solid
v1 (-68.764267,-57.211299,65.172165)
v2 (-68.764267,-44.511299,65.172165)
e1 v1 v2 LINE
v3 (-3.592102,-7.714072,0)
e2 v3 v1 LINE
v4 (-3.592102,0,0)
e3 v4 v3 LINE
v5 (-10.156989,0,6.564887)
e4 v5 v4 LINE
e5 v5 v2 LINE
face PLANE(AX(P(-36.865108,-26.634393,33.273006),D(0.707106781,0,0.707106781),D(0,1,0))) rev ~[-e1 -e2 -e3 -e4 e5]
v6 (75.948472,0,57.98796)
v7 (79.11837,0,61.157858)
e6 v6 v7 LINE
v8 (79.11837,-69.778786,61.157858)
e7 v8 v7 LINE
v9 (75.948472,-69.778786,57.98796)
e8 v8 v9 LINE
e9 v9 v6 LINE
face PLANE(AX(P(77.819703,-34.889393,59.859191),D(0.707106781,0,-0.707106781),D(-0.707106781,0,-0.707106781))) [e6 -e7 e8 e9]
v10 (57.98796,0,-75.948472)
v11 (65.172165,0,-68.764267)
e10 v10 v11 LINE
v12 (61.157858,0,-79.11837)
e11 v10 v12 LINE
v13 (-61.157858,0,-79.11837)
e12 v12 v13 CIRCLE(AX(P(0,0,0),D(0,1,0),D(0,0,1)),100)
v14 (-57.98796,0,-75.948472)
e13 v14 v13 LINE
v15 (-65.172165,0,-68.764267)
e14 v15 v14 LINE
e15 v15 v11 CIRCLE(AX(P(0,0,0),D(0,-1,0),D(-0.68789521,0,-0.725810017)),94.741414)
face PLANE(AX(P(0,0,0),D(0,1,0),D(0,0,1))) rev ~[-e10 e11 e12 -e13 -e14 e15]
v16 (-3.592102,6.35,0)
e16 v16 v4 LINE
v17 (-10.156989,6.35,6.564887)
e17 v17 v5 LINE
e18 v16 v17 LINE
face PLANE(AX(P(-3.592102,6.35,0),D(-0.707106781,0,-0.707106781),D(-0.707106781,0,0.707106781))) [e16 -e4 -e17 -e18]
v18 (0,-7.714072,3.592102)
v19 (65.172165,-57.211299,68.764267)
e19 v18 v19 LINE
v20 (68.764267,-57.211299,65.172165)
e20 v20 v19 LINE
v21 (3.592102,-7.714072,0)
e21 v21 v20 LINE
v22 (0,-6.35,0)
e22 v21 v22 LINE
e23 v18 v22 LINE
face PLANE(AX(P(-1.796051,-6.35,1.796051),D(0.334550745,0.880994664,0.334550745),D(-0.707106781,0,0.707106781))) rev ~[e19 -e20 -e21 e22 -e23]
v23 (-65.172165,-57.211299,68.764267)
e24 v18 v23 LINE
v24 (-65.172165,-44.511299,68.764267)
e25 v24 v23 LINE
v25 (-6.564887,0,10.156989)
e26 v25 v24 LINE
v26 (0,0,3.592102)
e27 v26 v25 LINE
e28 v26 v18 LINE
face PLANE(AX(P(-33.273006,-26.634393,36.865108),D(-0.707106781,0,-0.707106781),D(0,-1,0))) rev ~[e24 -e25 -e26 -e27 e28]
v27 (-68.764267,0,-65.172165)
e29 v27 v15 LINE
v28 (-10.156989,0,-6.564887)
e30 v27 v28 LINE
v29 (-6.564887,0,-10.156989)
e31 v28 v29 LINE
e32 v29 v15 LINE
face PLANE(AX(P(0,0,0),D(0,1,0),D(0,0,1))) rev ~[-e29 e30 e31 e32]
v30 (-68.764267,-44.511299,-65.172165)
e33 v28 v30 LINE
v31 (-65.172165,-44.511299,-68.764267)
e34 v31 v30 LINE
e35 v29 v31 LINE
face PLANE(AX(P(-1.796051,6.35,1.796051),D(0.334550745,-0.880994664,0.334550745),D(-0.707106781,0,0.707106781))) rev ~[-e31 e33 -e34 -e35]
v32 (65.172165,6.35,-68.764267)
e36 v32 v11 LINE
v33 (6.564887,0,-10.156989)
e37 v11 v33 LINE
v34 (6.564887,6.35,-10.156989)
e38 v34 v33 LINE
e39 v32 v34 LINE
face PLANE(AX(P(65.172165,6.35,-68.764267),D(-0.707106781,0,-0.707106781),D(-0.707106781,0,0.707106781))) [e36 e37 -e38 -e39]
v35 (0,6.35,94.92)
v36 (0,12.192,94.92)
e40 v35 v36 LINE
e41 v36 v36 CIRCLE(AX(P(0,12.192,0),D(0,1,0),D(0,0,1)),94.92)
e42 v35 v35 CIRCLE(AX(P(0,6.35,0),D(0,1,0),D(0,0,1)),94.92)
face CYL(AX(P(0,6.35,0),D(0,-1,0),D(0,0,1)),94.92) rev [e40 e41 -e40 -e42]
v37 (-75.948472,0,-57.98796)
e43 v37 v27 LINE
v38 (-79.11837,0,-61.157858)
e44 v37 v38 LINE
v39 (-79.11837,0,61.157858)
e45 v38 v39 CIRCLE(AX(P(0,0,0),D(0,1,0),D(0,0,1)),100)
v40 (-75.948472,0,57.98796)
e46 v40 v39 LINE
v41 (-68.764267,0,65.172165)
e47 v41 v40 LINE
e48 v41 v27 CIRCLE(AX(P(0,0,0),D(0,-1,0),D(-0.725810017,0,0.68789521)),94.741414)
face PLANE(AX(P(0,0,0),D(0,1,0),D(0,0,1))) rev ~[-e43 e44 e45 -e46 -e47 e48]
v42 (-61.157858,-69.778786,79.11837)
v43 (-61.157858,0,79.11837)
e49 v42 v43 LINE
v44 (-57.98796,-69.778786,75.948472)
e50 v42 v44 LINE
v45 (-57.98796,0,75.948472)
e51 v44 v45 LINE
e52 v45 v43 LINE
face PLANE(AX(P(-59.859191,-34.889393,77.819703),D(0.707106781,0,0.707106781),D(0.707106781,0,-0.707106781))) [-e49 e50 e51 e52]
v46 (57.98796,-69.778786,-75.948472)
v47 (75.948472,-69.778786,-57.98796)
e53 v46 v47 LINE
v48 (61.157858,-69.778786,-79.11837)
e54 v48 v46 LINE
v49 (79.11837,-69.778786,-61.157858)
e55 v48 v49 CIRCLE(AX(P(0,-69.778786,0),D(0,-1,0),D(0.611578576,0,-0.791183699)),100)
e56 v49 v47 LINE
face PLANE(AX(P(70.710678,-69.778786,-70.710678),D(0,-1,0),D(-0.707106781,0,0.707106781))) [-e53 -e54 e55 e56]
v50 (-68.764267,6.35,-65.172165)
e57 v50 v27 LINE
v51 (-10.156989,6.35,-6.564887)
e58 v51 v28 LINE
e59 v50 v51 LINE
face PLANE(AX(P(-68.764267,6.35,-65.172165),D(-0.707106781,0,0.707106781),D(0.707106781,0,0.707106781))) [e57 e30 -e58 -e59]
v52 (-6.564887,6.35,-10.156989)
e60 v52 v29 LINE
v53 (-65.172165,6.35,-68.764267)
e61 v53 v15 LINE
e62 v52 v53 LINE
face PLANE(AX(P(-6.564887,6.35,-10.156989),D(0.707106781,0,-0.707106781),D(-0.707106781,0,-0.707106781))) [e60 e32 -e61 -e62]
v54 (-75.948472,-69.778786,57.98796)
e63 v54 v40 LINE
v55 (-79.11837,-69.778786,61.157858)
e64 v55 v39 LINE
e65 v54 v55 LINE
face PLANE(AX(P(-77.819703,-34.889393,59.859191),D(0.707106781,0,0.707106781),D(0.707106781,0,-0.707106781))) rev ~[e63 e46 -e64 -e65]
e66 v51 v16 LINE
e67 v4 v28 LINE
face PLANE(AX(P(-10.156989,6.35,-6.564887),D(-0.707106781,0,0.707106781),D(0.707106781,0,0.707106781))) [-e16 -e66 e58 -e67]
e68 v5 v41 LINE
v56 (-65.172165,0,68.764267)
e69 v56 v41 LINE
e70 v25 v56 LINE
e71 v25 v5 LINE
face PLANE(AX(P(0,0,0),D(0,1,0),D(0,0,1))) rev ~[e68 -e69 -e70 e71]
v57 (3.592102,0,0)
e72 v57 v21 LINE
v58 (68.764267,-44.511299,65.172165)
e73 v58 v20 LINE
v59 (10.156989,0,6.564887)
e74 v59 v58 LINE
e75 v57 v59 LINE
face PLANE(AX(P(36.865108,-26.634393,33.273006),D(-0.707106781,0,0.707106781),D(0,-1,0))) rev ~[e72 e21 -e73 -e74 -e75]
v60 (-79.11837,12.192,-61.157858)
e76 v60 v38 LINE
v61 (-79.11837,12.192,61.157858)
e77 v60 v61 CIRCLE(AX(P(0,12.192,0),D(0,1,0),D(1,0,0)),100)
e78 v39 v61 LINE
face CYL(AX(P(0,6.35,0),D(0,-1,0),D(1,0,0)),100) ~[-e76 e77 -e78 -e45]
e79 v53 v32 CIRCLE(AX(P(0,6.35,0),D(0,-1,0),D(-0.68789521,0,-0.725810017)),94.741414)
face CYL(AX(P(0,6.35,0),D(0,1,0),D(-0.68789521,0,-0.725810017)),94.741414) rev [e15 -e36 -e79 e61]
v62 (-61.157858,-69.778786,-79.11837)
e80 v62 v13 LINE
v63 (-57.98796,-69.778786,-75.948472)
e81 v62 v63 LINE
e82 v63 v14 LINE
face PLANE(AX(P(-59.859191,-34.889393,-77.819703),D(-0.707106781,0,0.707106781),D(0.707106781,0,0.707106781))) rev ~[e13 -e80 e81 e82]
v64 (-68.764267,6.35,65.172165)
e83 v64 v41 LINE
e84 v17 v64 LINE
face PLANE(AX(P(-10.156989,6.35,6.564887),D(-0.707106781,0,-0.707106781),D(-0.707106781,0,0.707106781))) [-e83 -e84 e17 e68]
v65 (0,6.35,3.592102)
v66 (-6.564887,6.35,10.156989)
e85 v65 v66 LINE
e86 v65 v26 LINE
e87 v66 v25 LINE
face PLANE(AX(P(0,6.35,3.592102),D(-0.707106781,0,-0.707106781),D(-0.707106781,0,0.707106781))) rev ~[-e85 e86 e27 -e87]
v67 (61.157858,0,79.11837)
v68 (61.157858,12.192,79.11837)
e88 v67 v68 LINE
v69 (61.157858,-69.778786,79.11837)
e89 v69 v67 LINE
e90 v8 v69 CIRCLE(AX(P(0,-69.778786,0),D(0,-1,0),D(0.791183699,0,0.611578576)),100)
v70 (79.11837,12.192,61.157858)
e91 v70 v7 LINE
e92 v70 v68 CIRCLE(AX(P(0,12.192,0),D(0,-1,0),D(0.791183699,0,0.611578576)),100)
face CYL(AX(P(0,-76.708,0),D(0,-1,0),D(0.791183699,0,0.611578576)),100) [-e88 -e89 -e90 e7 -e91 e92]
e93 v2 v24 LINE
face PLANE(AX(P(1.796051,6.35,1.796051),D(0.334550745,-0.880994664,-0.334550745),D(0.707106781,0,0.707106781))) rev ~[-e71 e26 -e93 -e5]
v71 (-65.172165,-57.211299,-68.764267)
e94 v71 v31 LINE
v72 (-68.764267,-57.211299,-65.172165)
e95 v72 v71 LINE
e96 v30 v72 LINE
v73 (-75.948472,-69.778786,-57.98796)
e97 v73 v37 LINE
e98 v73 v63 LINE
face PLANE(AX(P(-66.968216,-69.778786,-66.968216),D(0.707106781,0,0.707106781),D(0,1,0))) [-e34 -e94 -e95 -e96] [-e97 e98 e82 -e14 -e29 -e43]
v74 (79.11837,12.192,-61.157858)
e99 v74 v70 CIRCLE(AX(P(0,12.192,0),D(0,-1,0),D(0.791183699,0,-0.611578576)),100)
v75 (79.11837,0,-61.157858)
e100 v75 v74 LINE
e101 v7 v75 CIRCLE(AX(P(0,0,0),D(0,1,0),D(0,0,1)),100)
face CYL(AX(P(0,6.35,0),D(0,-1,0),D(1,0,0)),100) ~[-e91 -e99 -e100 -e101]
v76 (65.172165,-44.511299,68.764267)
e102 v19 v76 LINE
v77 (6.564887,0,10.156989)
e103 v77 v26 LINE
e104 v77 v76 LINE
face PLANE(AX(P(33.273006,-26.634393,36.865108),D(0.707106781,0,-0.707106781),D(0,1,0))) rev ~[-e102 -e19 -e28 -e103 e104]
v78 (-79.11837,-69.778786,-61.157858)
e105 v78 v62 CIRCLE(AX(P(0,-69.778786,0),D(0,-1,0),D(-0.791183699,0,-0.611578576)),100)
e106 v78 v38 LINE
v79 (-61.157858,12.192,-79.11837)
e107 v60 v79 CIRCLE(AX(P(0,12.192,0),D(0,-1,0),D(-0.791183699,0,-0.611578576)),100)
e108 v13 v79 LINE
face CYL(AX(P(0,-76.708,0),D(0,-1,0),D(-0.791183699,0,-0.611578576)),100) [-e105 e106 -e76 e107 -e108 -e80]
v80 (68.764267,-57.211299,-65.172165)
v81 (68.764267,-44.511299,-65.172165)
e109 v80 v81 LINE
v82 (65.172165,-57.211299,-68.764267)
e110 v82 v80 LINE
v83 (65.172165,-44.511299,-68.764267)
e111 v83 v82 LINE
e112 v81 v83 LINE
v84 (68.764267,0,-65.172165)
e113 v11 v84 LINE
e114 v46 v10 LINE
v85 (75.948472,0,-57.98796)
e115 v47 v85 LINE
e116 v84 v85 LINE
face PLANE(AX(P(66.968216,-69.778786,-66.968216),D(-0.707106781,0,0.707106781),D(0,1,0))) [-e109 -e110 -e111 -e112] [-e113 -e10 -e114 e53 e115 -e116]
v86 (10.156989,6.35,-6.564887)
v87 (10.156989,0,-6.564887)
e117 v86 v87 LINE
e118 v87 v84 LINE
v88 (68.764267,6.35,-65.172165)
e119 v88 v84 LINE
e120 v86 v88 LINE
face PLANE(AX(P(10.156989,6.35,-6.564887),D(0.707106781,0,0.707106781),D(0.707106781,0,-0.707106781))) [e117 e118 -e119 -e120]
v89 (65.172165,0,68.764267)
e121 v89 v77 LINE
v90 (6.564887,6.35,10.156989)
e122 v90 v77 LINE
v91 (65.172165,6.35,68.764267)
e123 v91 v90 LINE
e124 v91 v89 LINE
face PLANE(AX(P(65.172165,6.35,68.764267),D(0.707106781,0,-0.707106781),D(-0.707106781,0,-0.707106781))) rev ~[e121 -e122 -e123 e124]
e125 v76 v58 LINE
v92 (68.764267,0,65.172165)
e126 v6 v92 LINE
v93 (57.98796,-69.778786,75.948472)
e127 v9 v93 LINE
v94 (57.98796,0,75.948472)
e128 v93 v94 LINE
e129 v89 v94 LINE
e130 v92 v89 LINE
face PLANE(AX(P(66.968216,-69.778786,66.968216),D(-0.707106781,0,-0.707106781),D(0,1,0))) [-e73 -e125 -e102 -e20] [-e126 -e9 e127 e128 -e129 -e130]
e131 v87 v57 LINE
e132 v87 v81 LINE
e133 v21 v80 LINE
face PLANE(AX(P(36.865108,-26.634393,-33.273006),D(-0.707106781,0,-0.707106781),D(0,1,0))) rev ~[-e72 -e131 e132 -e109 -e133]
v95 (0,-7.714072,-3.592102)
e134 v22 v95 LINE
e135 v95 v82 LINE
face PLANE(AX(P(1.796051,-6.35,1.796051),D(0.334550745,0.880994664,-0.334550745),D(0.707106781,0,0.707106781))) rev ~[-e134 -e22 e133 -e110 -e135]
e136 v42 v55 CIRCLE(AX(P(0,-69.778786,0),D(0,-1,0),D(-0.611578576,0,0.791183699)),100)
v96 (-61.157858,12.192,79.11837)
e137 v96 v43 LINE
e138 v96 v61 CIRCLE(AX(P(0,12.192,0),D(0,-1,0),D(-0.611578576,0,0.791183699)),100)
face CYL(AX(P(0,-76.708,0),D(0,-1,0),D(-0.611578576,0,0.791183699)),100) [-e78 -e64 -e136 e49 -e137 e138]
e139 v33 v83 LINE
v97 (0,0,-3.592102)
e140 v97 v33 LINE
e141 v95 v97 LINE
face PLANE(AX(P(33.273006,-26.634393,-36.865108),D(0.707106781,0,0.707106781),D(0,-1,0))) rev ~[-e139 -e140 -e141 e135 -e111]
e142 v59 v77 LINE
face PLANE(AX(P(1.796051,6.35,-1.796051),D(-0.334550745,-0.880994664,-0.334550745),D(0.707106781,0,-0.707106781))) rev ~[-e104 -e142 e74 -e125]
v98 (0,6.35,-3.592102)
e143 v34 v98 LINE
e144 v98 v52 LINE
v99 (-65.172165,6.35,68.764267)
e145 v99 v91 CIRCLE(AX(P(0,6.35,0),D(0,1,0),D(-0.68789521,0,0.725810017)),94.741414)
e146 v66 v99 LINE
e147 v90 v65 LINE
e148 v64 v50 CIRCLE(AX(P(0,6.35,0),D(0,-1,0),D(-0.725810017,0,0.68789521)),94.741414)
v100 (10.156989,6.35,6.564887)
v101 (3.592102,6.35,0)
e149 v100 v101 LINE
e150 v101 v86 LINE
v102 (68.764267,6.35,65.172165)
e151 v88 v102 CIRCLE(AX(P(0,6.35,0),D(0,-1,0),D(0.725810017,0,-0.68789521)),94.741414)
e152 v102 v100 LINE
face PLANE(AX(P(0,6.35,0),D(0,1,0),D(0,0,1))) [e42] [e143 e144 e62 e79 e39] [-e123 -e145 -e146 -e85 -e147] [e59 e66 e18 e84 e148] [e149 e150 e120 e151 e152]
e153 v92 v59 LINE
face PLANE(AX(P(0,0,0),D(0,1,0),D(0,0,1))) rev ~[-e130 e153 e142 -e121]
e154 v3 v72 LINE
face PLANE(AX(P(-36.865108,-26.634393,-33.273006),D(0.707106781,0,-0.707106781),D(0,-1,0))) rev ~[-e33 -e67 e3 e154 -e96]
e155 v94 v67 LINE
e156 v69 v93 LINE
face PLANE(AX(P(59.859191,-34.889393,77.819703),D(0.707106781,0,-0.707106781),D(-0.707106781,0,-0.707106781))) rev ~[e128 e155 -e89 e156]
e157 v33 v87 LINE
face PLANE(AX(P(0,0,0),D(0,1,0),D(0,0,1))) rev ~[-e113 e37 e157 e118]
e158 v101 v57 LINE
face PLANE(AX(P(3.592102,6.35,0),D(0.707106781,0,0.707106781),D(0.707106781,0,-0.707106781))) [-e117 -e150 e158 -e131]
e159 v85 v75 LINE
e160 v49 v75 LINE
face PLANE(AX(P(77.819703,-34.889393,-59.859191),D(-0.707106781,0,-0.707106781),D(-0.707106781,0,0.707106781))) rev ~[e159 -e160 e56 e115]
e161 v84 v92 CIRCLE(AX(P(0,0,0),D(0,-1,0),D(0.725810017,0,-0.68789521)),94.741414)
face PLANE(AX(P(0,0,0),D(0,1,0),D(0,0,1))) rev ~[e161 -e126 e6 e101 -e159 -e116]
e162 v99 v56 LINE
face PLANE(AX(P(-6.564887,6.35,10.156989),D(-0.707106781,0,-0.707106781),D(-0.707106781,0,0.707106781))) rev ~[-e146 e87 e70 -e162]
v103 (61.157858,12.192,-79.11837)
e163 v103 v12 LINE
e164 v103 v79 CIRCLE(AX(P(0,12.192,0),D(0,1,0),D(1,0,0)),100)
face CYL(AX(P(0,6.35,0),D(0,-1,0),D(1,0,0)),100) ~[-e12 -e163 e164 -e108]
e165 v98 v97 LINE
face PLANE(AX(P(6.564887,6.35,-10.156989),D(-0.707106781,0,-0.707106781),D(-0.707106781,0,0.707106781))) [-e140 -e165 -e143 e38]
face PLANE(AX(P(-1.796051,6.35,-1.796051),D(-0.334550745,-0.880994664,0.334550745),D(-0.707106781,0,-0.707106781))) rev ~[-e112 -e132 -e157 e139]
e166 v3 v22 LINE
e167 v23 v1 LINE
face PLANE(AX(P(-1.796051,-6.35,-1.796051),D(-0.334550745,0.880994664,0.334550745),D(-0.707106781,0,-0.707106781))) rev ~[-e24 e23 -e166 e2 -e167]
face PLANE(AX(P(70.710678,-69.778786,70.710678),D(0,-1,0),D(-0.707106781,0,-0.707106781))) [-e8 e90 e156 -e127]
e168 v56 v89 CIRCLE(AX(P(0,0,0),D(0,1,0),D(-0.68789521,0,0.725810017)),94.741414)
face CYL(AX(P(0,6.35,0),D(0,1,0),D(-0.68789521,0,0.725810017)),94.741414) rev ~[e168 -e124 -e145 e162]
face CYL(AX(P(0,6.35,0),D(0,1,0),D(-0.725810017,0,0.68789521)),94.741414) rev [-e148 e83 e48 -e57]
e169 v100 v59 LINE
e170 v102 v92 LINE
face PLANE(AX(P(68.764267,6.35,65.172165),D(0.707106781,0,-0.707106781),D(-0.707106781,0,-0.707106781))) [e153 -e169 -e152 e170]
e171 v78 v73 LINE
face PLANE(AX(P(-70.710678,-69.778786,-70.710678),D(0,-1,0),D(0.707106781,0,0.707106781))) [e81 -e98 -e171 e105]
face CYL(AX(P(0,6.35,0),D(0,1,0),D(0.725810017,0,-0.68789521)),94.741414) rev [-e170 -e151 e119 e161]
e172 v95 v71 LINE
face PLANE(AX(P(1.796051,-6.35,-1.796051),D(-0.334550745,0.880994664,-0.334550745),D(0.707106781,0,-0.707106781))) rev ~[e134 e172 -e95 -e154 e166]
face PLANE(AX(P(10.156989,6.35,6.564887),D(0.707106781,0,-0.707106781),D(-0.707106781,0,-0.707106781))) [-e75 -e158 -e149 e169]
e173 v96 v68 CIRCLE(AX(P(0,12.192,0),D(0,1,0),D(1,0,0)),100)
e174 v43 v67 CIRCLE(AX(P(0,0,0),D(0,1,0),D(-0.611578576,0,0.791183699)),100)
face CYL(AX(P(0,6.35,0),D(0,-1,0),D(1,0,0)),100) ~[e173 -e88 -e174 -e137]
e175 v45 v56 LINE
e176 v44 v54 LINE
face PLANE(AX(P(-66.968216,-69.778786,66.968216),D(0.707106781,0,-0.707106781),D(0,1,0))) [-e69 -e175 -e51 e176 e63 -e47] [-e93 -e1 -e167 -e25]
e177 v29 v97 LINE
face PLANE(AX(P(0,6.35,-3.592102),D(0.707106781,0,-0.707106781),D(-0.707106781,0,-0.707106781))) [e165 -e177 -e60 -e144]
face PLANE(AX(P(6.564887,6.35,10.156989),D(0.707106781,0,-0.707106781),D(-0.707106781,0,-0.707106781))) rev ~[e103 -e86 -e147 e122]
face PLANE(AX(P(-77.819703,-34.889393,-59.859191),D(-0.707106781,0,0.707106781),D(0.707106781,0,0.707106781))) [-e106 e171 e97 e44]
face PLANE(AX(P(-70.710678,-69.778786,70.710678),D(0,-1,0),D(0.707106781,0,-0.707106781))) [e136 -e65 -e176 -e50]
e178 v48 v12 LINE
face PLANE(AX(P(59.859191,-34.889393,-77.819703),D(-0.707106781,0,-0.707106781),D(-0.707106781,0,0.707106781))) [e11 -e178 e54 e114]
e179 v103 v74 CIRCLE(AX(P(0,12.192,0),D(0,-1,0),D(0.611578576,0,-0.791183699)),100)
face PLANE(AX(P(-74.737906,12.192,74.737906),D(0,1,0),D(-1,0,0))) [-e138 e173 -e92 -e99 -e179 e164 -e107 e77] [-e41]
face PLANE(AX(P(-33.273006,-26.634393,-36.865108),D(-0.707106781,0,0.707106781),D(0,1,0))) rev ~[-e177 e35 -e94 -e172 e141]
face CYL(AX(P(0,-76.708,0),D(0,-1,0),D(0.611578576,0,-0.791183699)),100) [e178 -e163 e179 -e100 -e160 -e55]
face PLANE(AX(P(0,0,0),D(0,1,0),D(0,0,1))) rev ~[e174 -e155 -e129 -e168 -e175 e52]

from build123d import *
from build123d.topology import SkipClean

# Parameters (mm, degrees)
SKETCH1_R                = 100
BOSS_EXTRUDE1_DEPTH      = 6.35
BOSS_EXTRUDE2_DEPTH      = 14.986
BOSS_EXTRUDE2_DEPTH_BACK = 76.128786138
SKETCH3_R                = 100
SKETCH3_R_2              = 94.92
BOSS_EXTRUDE3_DEPTH      = 5.842
CIRPATTERN1_COUNT        = 4
SKETCH29_W               = 5.08
SKETCH29_H               = 12.7
BOSS_EXTRUDE4_DEPTH      = 6.35
CIRPATTERN2_COUNT        = 4
CUT_EXTRUDE3_DEPTH       = 6.35
CUT_EXTRUDE4_START       = -9.144
CUT_EXTRUDE4_DEPTH       = 9.144
CIRPATTERN3_COUNT        = 4
BOSS_EXTRUDE6_DEPTH      = 12.7
CIRPATTERN4_COUNT        = 4
SKETCH34_W               = 25.4
SKETCH34_H               = 132.842
CUT_EXTRUDE5_DEPTH       = 7.62
CIRPATTERN5_COUNT        = 4
CUT_EXTRUDE6_START       = -88.9
CUT_EXTRUDE6_DEPTH       = 88.9


with BuildPart() as part:
    # Sketch1 → Boss-Extrude1 (new body)
    with BuildSketch(Plane(origin=(0, 0, 0), x_dir=(1, 0, 0), z_dir=(0, 1, 0))):
        with Locations(Location((0, 0, 0), (0, 0, 270))):
            Circle(SKETCH1_R)
    extrude(amount=BOSS_EXTRUDE1_DEPTH)

    # Sketch2 → Boss-Extrude2 (add, two sides: drawn at the far end of the back side and taken through both)
    with BuildSketch(Plane(origin=(0, 6.35, 0), x_dir=(1, 0, 0), z_dir=(0, 1, 0)).offset(-BOSS_EXTRUDE2_DEPTH_BACK)):
        with BuildLine():
            Line((70.138113747, -88.098625989), (79.118369868, -79.118369868))
            Line((79.118369868, -79.118369868), (88.098625989, -70.138113747))
            Line((88.098625989, -70.138113747), (79.118369868, -61.157857626))
            ThreePointArc((79.118369868, -61.157857626), (70.710678119, -70.710678119), (61.157857626, -79.118369868))
            Line((61.157857626, -79.118369868), (70.138113747, -88.098625989))
        make_face()
        with BuildLine():
            ThreePointArc((61.157857626, 79.118369868), (70.710678119, 70.710678119), (79.118369868, 61.157857626))
            Line((79.118369868, 61.157857626), (88.098625989, 70.138113747))
            Line((88.098625989, 70.138113747), (79.118369868, 79.118369868))
            Line((79.118369868, 79.118369868), (70.138113747, 88.098625989))
            Line((70.138113747, 88.098625989), (61.157857626, 79.118369868))
        make_face()
        with BuildLine():
            Line((-88.098625989, 70.138113747), (-79.118369868, 61.157857626))
            ThreePointArc((-79.118369868, 61.157857626), (-70.710678119, 70.710678119), (-61.157857626, 79.118369868))
            Line((-61.157857626, 79.118369868), (-70.138113747, 88.098625989))
            Line((-70.138113747, 88.098625989), (-79.118369868, 79.118369868))
            Line((-79.118369868, 79.118369868), (-88.098625989, 70.138113747))
        make_face()
        with BuildLine():
            Line((-79.118369868, -61.157857626), (-88.098625989, -70.138113747))
            Line((-88.098625989, -70.138113747), (-79.118369868, -79.118369868))
            Line((-79.118369868, -79.118369868), (-70.138113747, -88.098625989))
            Line((-70.138113747, -88.098625989), (-61.157857626, -79.118369868))
            ThreePointArc((-61.157857626, -79.118369868), (-70.710678119, -70.710678119), (-79.118369868, -61.157857626))
        make_face()
    extrude(amount=BOSS_EXTRUDE2_DEPTH + BOSS_EXTRUDE2_DEPTH_BACK)

    # Sketch3 → Boss-Extrude3 (add)
    with BuildSketch(Plane(origin=(0, 6.35, 0), x_dir=(1, 0, 0), z_dir=(0, 1, 0))):
        Circle(SKETCH3_R)
        with Locations(Location((0, 0, 0), (0, 0, 270))):
            Circle(SKETCH3_R_2, mode=Mode.SUBTRACT)
    extrude(amount=BOSS_EXTRUDE3_DEPTH)

    # Sweep1: sweep along a curve in space
    with BuildLine() as sweep1_path:
        Line((0, 0, 0), (-70.138113747, -53.268786138, -70.138113747))
    # 3DSketch4 → Sweep1 (sweep)
    with BuildSketch(Plane(origin=(-68.342062523, -59.618786138, -71.934164971), x_dir=(-0.262612865719444, 0.9284766908852601, 0.262612865719444), z_dir=(0.7071067811865448, -1.540105097113694e-15, 0.7071067811865502))):
        Polygon((0, 0), (1.886664636, 4.71666159), (13.67831861, 0), (11.791653974, -4.71666159), align=None)
    sweep1 = sweep(path=sweep1_path.line)

    # CirPattern1: Sweep1 ×4 about axis
    cirpattern1_axis = Axis((0, 0, 0), (0, 1, 0))
    for i in range(1, CIRPATTERN1_COUNT):
        add(sweep1.rotate(cirpattern1_axis, i * 360 / CIRPATTERN1_COUNT))

    # Sketch29 → Boss-Extrude4 (add)
    with BuildSketch(Plane(origin=(70.138113747, 0, 70.138113747), x_dir=(0.7071067811865501, 0, -0.7071067811865449), z_dir=(0.7071067811865449, 0, 0.7071067811865501))):
        with Locations((0, -53.268786138)):
            Rectangle(SKETCH29_W, SKETCH29_H)
    boss_extrude4 = extrude(amount=BOSS_EXTRUDE4_DEPTH)

    # CirPattern2: Boss-Extrude4 ×4 about axis
    cirpattern2_axis = Axis((0, 0, 0), (0, 1, 0))
    for i in range(1, CIRPATTERN2_COUNT):
        add(boss_extrude4.rotate(cirpattern2_axis, i * 360 / CIRPATTERN2_COUNT))

    # Sketch30 → Cut-Extrude3 (cut)
    with BuildSketch(Plane(origin=(0, 6.35, 0), x_dir=(1, 0, 0), z_dir=(0, 1, 0))):
        with BuildLine():
            Line((-10.1569893, -6.564886852), (-68.764267193, -65.172164744))
            ThreePointArc((-68.764267193, -65.172164744), (-94.741413859, 0), (-68.764267193, 65.172164744))
            Line((-68.764267193, 65.172164744), (-10.1569893, 6.564886852))
            Line((-10.1569893, 6.564886852), (-3.592102448, 0))
            Line((-3.592102448, 0), (-10.1569893, -6.564886852))
        make_face()
        with BuildLine():
            Line((-6.564886852, -10.1569893), (-65.172164744, -68.764267193))
            ThreePointArc((-65.172164744, -68.764267193), (0, -94.741413859), (65.172164744, -68.764267193))
            Line((65.172164744, -68.764267193), (6.564886852, -10.1569893))
            Line((6.564886852, -10.1569893), (0, -3.592102448))
            Line((0, -3.592102448), (-6.564886852, -10.1569893))
        make_face()
        with BuildLine():
            Line((-6.564886852, 10.1569893), (-65.172164744, 68.764267193))
            ThreePointArc((-65.172164744, 68.764267193), (0, 94.741413859), (65.172164744, 68.764267193))
            Line((65.172164744, 68.764267193), (6.564886852, 10.1569893))
            Line((6.564886852, 10.1569893), (0, 3.592102448))
            Line((0, 3.592102448), (-6.564886852, 10.1569893))
        make_face()
        with BuildLine():
            Line((10.1569893, 6.564886852), (68.764267193, 65.172164744))
            ThreePointArc((68.764267193, 65.172164744), (94.741413859, 0), (68.764267193, -65.172164744))
            Line((68.764267193, -65.172164744), (10.1569893, -6.564886852))
            Line((10.1569893, -6.564886852), (3.592102448, 0))
            Line((3.592102448, 0), (10.1569893, 6.564886852))
        make_face()
    extrude(amount=-CUT_EXTRUDE3_DEPTH, mode=Mode.SUBTRACT)

    # Sketch32 → Cut-Extrude4 (cut)
    with BuildSketch(Plane(origin=(0, 21.336, 0), x_dir=(1, 0, 0), z_dir=(0, 1, 0)).offset(CUT_EXTRUDE4_START)):
        with BuildLine():
            Line((79.118369868, 61.157857626), (88.098625989, 70.138113747))
            Line((88.098625989, 70.138113747), (70.138113747, 88.098625989))
            Line((70.138113747, 88.098625989), (61.157857626, 79.118369868))
            ThreePointArc((61.157857626, 79.118369868), (70.710678119, 70.710678119), (79.118369868, 61.157857626))
        make_face()
    cut_extrude4 = extrude(amount=CUT_EXTRUDE4_DEPTH, mode=Mode.SUBTRACT)

    # CirPattern3: Cut-Extrude4 ×4 about axis
    cirpattern3_axis = Axis((0, 12.192, 0), (0, -1, 0))
    for i in range(1, CIRPATTERN3_COUNT):
        add(cut_extrude4.rotate(cirpattern3_axis, i * 360 / CIRPATTERN3_COUNT), mode=Mode.SUBTRACT)

    # Sketch33 → Boss-Extrude6 (add, symmetric)
    with BuildSketch(Plane(origin=(0, 0, 0), x_dir=(-0.7071067811865438, 0, -0.7071067811865513), z_dir=(0.7071067811865513, 0, -0.7071067811865438))):
        Polygon((-94.707359271, -49.941543909), (-94.707359271, 0), (-100, 0), (-100, -46.918786138), (-100, -69.778786138), (-99.1902717, -69.778786138), (-94.707359271, -69.778786138), (-94.707359271, -63.948606699), align=None)
    boss_extrude6 = extrude(amount=BOSS_EXTRUDE6_DEPTH, both=True)

    # CirPattern4: Boss-Extrude6 ×4 about axis
    cirpattern4_axis = Axis((0, 0, 0), (0, 1, 0))
    for i in range(1, CIRPATTERN4_COUNT):
        add(boss_extrude6.rotate(cirpattern4_axis, i * 360 / CIRPATTERN4_COUNT))

    # Sketch34 → Cut-Extrude5 (cut)
    with BuildSketch(Plane(origin=(79.118369868, 0, 79.118369868), x_dir=(0.7071067811865465, 0, -0.7071067811865486), z_dir=(0.7071067811865486, 0, 0.7071067811865465))):
        with Locations((0, -54.229)):
            Rectangle(SKETCH34_W, SKETCH34_H)
    cut_extrude5 = extrude(amount=-CUT_EXTRUDE5_DEPTH, mode=Mode.SUBTRACT)

    # CirPattern5: Cut-Extrude5 ×4 about axis
    cirpattern5_axis = Axis((0, 0, 0), (0, 1, 0))
    for i in range(1, CIRPATTERN5_COUNT):
        add(cut_extrude5.rotate(cirpattern5_axis, i * 360 / CIRPATTERN5_COUNT), mode=Mode.SUBTRACT)

    # Sketch35 → Cut-Extrude6 (cut)
    with SkipClean():  # the faces are left unmerged after this step: merging them gives an invalid solid
        with BuildSketch(Plane(origin=(0, 12.192, 0), x_dir=(1, 0, 0), z_dir=(0, 1, 0)).offset(CUT_EXTRUDE6_START)):
            with BuildLine():
                Line((-61.157857626, 79.118369868), (-64.749960074, 82.710472317))
                Line((-64.749960074, 82.710472317), (-82.710472317, 64.749960074))
                Line((-82.710472317, 64.749960074), (-79.118369868, 61.157857626))
                ThreePointArc((-79.118369868, 61.157857626), (-70.710678119, 70.710678119), (-61.157857626, 79.118369868))
            make_face()
            with BuildLine():
                Line((-64.749960074, -82.710472317), (-61.157857626, -79.118369868))
                ThreePointArc((-61.157857626, -79.118369868), (-70.710678119, -70.710678119), (-79.118369868, -61.157857626))
                Line((-79.118369868, -61.157857626), (-82.710472317, -64.749960074))
                Line((-82.710472317, -64.749960074), (-64.749960074, -82.710472317))
            make_face()
            with BuildLine():
                Line((61.157857626, -79.118369868), (64.749960074, -82.710472317))
                Line((64.749960074, -82.710472317), (82.710472317, -64.749960074))
                Line((82.710472317, -64.749960074), (79.118369868, -61.157857626))
                ThreePointArc((79.118369868, -61.157857626), (70.710678119, -70.710678119), (61.157857626, -79.118369868))
            make_face()
            with BuildLine():
                Line((79.118369868, 61.157857626), (82.710472317, 64.749960074))
                Line((82.710472317, 64.749960074), (64.749960074, 82.710472317))
                Line((64.749960074, 82.710472317), (61.157857626, 79.118369868))
                ThreePointArc((61.157857626, 79.118369868), (70.710678119, 70.710678119), (79.118369868, 61.157857626))
            make_face()
        extrude(amount=CUT_EXTRUDE6_DEPTH, mode=Mode.SUBTRACT)


solid = part.part
